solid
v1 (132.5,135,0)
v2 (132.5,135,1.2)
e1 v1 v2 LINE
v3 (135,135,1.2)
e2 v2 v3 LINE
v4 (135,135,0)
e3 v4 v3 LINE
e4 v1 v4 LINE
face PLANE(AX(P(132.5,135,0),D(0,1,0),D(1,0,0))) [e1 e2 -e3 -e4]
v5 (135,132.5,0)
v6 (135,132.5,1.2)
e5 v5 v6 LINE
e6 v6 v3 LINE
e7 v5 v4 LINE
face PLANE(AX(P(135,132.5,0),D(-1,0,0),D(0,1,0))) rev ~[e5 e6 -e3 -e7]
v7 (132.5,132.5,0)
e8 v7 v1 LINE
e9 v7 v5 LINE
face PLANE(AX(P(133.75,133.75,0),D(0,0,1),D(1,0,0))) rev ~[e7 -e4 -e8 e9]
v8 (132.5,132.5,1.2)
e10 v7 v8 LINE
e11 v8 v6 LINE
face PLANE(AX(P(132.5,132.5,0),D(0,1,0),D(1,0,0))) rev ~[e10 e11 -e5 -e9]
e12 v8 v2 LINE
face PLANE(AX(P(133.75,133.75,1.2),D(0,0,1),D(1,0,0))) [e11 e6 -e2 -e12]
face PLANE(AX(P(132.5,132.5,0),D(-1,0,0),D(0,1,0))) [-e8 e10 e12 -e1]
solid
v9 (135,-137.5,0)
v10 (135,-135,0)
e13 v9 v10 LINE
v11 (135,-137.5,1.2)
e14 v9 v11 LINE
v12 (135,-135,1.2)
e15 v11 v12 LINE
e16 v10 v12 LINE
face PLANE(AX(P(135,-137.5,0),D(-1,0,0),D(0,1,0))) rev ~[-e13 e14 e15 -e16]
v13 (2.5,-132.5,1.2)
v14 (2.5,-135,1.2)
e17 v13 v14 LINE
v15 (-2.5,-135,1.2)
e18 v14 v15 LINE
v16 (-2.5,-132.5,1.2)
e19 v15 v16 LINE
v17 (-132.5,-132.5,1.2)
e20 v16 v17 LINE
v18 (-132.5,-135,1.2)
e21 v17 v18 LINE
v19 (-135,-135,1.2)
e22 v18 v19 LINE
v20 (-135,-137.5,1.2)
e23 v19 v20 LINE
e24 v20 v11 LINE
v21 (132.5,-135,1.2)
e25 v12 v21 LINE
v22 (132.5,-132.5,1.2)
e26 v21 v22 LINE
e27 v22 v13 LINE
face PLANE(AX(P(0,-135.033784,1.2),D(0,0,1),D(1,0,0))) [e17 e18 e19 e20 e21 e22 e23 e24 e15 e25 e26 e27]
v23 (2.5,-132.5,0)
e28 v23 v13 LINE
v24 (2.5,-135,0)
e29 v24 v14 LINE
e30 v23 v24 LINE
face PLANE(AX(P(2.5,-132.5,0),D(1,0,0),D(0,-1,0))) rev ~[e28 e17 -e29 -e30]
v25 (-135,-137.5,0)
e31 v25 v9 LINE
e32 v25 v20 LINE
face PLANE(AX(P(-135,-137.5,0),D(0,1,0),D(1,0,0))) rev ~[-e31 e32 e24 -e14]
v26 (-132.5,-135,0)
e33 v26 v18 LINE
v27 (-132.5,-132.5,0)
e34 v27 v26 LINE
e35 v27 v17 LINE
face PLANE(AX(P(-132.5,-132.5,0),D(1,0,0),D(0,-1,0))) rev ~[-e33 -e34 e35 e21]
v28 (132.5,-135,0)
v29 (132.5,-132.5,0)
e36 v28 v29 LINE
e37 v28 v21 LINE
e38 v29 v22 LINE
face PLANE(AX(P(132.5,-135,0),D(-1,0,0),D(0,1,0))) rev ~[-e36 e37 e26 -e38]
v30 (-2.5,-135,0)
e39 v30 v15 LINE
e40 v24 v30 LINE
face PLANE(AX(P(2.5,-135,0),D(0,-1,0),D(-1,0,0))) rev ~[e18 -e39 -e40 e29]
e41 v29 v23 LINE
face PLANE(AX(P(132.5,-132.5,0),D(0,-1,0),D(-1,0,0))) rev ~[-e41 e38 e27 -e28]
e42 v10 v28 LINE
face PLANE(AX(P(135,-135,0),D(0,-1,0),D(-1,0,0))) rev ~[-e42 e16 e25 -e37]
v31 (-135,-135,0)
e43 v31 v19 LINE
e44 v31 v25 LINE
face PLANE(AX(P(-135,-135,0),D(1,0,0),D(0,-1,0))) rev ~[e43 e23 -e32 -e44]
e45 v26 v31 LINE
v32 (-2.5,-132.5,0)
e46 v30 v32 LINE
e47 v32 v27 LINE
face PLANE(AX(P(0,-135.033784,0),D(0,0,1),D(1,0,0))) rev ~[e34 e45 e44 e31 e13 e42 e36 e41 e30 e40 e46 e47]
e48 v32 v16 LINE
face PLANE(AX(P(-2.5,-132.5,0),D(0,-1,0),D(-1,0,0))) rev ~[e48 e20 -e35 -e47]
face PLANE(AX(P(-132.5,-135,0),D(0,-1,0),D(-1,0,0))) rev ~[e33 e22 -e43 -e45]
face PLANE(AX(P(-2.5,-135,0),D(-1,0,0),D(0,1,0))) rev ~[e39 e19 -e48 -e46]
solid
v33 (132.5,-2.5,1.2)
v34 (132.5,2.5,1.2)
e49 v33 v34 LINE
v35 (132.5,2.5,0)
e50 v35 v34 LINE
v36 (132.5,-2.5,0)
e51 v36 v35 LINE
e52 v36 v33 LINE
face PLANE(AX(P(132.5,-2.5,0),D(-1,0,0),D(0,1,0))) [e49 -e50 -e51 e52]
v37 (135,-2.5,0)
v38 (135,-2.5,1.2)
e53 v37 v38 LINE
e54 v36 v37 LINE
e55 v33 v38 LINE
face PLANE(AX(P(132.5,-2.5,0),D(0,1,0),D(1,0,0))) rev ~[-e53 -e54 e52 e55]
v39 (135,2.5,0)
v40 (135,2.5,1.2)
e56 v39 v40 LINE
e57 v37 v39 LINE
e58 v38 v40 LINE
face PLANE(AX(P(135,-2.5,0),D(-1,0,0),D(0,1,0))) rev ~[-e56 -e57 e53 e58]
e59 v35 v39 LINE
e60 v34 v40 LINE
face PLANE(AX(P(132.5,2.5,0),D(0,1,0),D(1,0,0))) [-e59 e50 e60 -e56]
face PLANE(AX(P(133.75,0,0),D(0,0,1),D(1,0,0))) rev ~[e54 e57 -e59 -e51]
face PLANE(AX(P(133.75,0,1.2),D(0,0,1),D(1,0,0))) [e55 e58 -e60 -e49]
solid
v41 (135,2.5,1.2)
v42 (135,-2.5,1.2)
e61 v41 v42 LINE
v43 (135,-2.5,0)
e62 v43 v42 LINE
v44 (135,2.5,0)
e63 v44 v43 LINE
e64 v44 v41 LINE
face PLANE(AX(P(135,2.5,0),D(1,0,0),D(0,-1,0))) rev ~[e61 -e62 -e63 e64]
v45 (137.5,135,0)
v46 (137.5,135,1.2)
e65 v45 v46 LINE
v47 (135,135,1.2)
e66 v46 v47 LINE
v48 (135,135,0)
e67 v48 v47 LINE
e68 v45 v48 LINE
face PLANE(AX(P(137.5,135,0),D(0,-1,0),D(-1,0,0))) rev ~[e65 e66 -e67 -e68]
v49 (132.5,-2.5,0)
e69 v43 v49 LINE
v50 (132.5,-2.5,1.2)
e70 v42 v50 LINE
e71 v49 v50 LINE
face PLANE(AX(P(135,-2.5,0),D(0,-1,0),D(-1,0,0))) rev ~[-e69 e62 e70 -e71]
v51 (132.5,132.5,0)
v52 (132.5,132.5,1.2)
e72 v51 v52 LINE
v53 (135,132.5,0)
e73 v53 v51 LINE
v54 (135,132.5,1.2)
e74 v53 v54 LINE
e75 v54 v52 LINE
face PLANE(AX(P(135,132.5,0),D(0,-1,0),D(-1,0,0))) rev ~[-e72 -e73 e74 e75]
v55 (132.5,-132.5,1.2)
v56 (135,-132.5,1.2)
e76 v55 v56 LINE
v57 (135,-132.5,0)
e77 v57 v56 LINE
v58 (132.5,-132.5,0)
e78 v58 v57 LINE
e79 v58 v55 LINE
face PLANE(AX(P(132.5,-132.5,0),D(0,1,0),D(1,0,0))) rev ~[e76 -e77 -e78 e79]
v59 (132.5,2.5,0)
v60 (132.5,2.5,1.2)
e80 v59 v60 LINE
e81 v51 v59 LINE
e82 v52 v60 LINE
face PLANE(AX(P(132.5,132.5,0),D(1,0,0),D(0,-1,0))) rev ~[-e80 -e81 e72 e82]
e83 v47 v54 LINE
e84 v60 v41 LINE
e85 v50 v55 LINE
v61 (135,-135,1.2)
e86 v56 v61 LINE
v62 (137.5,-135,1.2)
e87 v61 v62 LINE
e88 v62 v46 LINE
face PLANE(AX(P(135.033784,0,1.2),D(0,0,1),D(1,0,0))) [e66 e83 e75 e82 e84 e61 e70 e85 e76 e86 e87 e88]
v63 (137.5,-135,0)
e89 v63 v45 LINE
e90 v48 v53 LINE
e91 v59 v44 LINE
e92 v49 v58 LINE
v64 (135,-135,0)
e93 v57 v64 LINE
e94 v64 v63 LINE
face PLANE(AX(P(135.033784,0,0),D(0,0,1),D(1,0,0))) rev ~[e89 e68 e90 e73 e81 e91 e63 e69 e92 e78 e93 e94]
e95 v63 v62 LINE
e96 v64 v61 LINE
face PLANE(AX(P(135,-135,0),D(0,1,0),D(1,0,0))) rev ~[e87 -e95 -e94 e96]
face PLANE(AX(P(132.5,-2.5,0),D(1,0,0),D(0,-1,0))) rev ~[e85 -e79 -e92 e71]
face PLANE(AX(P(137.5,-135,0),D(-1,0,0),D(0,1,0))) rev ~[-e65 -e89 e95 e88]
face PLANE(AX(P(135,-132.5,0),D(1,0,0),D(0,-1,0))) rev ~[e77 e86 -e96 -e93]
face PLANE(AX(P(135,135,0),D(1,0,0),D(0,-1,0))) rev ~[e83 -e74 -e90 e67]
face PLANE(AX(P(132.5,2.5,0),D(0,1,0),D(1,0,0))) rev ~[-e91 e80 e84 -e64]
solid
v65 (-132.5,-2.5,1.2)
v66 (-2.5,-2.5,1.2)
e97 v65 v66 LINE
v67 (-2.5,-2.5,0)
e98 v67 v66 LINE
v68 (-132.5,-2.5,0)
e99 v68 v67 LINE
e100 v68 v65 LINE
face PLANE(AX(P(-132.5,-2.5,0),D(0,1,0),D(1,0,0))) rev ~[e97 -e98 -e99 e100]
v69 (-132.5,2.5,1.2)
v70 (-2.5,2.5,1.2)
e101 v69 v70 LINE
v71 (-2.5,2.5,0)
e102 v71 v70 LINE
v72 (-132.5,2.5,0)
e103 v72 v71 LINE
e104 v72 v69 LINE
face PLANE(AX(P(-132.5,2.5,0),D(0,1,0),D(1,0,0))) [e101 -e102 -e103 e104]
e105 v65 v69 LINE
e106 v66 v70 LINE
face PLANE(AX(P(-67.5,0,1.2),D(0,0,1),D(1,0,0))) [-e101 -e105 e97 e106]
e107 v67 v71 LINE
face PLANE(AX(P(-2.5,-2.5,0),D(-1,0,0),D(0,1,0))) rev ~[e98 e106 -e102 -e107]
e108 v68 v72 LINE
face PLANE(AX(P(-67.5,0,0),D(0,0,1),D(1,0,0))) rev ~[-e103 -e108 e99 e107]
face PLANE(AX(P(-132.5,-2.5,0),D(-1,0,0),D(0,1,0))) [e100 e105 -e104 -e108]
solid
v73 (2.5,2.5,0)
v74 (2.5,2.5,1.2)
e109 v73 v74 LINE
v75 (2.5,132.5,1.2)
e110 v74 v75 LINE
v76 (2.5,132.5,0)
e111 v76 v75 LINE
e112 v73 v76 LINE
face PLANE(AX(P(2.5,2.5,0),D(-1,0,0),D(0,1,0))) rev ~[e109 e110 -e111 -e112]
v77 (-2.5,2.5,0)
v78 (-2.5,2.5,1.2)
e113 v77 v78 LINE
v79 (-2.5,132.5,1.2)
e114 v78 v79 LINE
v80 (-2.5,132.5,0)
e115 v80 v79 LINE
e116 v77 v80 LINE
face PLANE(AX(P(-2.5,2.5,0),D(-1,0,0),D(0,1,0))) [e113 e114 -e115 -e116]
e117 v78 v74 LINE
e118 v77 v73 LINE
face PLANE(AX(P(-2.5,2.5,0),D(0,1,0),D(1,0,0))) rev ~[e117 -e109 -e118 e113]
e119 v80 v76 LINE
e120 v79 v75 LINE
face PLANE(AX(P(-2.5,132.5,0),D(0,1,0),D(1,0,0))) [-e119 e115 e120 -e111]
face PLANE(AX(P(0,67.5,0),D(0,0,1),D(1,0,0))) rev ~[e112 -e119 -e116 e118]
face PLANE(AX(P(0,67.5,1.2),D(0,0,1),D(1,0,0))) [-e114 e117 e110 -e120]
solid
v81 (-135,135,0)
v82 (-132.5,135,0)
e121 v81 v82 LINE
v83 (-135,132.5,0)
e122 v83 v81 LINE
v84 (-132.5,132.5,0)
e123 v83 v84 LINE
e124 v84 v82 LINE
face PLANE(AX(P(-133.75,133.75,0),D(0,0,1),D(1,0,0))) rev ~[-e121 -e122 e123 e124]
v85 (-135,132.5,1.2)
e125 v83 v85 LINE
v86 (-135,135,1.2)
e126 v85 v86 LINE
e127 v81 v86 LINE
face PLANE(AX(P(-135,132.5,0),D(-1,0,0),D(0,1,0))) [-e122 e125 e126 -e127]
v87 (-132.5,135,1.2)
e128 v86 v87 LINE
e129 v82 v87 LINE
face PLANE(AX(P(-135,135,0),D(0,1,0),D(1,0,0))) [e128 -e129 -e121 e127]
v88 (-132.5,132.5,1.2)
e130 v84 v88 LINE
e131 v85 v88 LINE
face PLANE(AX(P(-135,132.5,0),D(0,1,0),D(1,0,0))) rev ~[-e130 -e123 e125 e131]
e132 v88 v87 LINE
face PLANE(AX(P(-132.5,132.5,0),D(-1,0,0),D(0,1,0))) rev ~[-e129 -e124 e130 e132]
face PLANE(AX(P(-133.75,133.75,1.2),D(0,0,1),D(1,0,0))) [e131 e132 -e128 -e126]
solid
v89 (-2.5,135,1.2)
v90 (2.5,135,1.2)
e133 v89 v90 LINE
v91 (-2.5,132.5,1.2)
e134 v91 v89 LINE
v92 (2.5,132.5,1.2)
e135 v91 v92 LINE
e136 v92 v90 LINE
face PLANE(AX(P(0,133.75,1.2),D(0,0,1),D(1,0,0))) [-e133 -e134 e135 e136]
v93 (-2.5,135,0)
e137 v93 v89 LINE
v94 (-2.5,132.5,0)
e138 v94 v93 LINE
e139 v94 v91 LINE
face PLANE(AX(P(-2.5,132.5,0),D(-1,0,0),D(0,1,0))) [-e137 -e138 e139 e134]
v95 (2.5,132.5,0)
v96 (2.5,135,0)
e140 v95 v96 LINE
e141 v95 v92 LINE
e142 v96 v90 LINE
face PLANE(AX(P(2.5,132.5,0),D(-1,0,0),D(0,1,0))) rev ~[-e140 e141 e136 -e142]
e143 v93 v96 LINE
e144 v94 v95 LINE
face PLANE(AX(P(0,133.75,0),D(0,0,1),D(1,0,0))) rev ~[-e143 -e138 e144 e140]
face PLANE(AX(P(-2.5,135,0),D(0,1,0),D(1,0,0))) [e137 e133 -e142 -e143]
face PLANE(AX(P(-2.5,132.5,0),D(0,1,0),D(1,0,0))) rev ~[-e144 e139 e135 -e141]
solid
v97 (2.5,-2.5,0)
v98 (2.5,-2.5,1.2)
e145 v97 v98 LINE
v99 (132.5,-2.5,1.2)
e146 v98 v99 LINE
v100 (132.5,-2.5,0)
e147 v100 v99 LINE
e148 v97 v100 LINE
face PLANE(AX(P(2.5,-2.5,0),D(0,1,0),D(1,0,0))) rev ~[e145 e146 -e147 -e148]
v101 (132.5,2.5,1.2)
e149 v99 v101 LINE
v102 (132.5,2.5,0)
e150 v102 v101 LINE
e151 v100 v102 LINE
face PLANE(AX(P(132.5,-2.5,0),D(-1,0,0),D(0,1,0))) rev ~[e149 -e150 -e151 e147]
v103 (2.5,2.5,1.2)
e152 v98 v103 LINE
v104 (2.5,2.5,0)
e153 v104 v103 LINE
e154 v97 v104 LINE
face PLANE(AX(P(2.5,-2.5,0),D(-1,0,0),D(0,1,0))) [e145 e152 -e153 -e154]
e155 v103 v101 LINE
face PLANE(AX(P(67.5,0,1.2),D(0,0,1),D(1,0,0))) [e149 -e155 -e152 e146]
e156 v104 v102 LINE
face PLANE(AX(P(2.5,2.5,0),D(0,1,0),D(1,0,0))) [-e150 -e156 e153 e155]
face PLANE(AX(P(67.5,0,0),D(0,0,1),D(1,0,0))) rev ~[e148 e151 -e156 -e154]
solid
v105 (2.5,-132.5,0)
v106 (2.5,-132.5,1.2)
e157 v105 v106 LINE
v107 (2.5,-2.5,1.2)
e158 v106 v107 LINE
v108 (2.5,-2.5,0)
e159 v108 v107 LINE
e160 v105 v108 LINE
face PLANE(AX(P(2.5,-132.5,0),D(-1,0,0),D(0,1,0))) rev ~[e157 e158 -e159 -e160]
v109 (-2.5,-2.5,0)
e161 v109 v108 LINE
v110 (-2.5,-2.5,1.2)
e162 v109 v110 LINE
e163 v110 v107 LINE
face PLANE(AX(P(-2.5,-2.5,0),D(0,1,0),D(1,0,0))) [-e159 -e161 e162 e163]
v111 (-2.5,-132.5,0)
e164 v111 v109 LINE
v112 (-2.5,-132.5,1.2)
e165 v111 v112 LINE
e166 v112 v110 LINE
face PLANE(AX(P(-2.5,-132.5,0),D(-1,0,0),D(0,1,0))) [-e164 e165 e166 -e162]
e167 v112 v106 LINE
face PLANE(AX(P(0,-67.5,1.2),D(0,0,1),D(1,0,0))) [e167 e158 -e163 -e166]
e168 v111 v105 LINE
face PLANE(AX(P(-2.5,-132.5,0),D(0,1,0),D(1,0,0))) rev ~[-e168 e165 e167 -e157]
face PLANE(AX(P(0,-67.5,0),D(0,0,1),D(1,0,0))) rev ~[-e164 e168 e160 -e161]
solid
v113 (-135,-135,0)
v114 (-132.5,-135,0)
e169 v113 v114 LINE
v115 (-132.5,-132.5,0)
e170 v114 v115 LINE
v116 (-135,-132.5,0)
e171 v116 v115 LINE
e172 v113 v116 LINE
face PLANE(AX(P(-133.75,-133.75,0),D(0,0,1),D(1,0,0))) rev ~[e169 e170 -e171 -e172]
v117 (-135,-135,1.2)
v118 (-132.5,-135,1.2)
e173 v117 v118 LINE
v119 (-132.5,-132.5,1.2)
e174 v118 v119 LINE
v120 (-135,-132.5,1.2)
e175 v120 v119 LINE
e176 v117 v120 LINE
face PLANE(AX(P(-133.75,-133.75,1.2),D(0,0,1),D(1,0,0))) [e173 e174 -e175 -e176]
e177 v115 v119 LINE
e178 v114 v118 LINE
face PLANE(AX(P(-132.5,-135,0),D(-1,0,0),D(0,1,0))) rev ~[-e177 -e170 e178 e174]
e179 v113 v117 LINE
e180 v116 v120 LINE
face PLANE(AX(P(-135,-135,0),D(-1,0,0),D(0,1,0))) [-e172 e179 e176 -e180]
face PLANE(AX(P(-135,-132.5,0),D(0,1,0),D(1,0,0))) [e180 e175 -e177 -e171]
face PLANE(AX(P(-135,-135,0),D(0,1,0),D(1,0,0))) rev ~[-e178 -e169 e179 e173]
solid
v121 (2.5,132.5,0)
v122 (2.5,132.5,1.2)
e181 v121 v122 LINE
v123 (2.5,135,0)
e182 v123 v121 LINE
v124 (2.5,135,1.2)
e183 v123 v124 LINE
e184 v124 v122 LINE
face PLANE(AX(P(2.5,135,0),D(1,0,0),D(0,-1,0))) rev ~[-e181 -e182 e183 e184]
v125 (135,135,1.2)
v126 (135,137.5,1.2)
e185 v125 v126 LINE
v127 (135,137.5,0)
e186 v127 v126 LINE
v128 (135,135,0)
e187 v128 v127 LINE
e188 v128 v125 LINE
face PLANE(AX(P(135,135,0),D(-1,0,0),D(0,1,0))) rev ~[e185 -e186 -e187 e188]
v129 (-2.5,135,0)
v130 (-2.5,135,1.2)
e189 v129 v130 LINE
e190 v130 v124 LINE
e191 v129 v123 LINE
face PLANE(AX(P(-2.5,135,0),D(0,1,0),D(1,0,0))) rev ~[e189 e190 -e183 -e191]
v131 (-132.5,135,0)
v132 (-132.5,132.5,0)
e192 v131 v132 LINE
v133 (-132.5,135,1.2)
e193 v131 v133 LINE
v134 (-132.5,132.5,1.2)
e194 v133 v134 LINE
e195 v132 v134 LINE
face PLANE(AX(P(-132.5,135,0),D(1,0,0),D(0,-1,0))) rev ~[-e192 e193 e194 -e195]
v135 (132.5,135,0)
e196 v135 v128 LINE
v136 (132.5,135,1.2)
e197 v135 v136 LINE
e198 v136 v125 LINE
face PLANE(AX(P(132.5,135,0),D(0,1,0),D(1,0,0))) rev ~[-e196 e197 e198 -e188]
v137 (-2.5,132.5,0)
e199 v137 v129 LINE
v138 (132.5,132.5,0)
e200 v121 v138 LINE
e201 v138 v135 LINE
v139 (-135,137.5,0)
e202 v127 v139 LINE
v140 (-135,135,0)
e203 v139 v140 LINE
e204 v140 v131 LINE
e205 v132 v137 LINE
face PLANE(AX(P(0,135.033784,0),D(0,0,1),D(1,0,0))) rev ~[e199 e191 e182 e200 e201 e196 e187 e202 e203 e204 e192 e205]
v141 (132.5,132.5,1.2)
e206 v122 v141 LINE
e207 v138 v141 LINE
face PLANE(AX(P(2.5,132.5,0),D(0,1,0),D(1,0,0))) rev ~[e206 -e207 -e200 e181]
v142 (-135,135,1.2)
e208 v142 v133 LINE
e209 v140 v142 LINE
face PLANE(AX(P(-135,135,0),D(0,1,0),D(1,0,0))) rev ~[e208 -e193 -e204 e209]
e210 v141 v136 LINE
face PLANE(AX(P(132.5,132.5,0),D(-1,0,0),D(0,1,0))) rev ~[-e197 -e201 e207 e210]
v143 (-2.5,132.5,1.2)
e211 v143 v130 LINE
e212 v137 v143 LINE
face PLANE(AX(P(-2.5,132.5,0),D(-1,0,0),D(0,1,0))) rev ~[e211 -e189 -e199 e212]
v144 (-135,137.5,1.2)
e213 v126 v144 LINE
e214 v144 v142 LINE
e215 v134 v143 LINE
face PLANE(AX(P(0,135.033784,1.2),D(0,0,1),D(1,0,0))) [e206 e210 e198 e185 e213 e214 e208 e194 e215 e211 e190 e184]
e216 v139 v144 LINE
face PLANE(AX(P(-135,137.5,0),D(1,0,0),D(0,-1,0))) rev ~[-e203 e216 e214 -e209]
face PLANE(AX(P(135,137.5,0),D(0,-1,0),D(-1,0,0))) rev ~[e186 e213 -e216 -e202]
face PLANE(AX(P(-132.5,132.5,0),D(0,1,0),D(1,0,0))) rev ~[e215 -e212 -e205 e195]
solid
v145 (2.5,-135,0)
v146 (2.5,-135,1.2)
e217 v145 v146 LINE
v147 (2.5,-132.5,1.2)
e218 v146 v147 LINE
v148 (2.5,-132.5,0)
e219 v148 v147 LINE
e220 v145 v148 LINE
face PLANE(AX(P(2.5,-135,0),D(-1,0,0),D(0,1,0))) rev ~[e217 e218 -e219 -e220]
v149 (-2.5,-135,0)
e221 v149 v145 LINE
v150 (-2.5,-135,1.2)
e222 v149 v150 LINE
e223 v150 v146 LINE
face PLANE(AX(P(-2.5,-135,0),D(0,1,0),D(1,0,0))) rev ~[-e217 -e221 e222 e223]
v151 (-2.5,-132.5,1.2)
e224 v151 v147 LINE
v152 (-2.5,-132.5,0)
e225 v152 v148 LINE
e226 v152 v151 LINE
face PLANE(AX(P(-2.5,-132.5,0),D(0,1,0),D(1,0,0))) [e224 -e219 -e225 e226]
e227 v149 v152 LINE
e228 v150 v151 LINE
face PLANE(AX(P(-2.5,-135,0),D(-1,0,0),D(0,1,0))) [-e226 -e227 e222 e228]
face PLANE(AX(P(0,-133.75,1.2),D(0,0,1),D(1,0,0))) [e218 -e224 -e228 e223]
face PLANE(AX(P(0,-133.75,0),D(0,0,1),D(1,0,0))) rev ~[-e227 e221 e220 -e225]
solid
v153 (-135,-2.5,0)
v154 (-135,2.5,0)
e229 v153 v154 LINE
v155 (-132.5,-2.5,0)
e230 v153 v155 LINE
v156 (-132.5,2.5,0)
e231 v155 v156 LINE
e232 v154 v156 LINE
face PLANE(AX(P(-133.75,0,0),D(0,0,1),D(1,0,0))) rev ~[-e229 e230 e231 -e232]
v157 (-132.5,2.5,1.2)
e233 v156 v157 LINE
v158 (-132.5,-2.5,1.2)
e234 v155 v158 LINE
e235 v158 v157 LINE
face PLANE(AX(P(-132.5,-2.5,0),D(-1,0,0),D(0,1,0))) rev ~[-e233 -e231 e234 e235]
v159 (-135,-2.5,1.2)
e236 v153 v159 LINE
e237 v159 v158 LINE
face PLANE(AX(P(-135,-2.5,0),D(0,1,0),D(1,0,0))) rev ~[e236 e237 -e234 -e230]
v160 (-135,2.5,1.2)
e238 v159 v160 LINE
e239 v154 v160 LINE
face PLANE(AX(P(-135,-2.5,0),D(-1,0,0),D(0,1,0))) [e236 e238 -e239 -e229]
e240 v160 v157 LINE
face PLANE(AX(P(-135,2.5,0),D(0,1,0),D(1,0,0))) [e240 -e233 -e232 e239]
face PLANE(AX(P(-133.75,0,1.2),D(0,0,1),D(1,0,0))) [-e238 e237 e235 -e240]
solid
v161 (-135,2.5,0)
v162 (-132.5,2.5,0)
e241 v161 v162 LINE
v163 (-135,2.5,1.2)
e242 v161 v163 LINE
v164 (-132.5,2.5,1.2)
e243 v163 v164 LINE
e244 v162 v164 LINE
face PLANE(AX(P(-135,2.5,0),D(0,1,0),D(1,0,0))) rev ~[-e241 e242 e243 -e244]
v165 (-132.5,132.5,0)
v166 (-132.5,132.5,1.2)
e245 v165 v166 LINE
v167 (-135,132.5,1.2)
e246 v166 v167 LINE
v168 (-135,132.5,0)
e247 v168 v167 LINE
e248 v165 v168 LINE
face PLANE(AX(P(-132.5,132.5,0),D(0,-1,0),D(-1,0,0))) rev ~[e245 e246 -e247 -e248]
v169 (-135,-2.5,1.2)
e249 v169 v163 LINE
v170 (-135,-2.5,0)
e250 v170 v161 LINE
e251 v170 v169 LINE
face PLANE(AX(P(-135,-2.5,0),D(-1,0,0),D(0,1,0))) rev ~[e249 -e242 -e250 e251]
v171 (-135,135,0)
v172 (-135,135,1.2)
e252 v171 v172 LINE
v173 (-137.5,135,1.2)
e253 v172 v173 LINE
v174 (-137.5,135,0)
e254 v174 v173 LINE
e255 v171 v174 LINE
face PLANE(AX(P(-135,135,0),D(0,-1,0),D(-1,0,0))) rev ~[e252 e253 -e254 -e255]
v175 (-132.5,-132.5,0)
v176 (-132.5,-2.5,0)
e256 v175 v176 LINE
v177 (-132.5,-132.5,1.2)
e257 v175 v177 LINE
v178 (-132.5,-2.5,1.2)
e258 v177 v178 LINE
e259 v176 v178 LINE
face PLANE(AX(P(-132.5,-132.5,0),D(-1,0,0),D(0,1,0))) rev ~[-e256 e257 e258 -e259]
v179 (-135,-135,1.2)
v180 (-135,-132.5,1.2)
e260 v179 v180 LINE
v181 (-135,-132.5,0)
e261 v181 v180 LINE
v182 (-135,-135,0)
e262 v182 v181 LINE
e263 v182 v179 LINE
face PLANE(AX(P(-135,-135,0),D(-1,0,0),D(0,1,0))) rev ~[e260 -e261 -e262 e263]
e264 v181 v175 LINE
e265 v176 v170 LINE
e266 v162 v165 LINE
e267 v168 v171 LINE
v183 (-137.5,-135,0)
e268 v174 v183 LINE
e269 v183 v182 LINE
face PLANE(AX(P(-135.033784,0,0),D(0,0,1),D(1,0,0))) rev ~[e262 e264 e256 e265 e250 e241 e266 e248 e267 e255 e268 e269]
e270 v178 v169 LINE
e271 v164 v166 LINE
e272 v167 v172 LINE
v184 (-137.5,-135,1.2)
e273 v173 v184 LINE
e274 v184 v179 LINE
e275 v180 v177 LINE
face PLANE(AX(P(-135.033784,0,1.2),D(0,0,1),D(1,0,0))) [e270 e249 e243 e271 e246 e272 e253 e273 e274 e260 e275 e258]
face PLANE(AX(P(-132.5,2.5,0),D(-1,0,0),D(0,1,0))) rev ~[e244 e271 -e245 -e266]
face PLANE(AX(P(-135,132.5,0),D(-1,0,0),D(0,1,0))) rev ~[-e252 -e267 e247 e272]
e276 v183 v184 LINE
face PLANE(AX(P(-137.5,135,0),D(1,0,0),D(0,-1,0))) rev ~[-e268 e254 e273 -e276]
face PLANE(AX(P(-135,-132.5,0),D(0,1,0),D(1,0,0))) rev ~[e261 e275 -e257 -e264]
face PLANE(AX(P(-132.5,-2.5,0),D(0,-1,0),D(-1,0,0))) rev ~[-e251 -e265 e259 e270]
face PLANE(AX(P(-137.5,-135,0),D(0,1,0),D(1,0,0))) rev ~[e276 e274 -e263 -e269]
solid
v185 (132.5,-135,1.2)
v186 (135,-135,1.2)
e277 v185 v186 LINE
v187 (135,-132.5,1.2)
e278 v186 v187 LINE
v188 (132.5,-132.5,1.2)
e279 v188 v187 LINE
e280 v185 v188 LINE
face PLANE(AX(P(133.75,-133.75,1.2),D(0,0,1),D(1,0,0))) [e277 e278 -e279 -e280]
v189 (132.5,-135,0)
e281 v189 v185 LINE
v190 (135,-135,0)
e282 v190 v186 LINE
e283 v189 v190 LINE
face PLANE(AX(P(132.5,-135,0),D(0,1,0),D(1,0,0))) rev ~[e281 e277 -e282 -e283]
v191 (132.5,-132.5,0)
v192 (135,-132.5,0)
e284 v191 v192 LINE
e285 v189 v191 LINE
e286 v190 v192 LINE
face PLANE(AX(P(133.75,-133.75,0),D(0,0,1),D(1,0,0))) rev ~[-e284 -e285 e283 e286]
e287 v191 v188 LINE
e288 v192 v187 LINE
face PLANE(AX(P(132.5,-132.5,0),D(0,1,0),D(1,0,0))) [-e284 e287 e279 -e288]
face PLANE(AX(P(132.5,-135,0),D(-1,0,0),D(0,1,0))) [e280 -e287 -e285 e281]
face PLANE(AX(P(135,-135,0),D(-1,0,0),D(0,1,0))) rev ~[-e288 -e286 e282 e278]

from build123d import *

# Parameters (mm, degrees)
F0_W     = 2.5
F0_H     = 2.5
F1_DEPTH = 1.2
F0_W_2   = 5
F0_H_2   = 5
F2_DEPTH = 1.2
F0_W_3   = 130
F0_H_3   = 130


with BuildPart() as f1:
    # F0 (on Top) → F1 (new body)
    with BuildSketch(Plane.XY):
        with Locations((133.75, 133.75)):
            Rectangle(F0_W, F0_H)
    extrude(amount=F1_DEPTH)


with BuildPart() as f1b:
    # F0 (on Top) → F1, piece 2 (new body)
    with BuildSketch(Plane.XY):
        with Locations((-133.75, 133.75)):
            Rectangle(F0_W, F0_H)
    extrude(amount=F1_DEPTH)


with BuildPart() as f1c:
    # F0 (on Top) → F1, piece 3 (new body)
    with BuildSketch(Plane.XY):
        with Locations((-133.75, -133.75)):
            Rectangle(F0_W, F0_H)
    extrude(amount=F1_DEPTH)


with BuildPart() as f1d:
    # F0 (on Top) → F1, piece 4 (new body)
    with BuildSketch(Plane.XY):
        with Locations((133.75, -133.75)):
            Rectangle(F0_W, F0_H)
    extrude(amount=F1_DEPTH)


with BuildPart() as f1e:
    # F0 (on Top) → F1, piece 5 (new body)
    with BuildSketch(Plane.XY):
        with Locations((0, -133.75)):
            Rectangle(F0_W_2, F0_H)
    extrude(amount=F1_DEPTH)


with BuildPart() as f1f:
    # F0 (on Top) → F1, piece 6 (new body)
    with BuildSketch(Plane.XY):
        with Locations((133.75, 0)):
            Rectangle(F0_W, F0_H_2)
    extrude(amount=F1_DEPTH)


with BuildPart() as f1g:
    # F0 (on Top) → F1, piece 7 (new body)
    with BuildSketch(Plane.XY):
        with Locations((-133.75, 0)):
            Rectangle(F0_W, F0_H_2)
    extrude(amount=F1_DEPTH)


with BuildPart() as f1h:
    # F0 (on Top) → F1, piece 8 (new body)
    with BuildSketch(Plane.XY):
        with Locations((0, 133.75)):
            Rectangle(F0_W_2, F0_H)
    extrude(amount=F1_DEPTH)


with BuildPart() as f2:
    # F0 (on Top) → F2 (new body)
    with BuildSketch(Plane.XY):
        Polygon((-132.5, -132.5), (-132.5, -2.5), (-135, -2.5), (-135, 2.5), (-132.5, 2.5), (-132.5, 132.5), (-135, 132.5), (-135, 135), (-137.5, 135), (-137.5, -135), (-135, -135), (-135, -132.5), align=None)
    extrude(amount=F2_DEPTH)


with BuildPart() as f2b:
    # F0 (on Top) → F2, piece 2 (new body)
    with BuildSketch(Plane.XY):
        with Locations((-67.5, 0)):
            Rectangle(F0_W_3, F0_H_2)
    extrude(amount=F2_DEPTH)


with BuildPart() as f2c:
    # F0 (on Top) → F2, piece 3 (new body)
    with BuildSketch(Plane.XY):
        with Locations((0, 67.5)):
            Rectangle(F0_W_2, F0_H_3)
    extrude(amount=F2_DEPTH)


with BuildPart() as f2d:
    # F0 (on Top) → F2, piece 4 (new body)
    with BuildSketch(Plane.XY):
        Polygon((2.5, 132.5), (132.5, 132.5), (132.5, 135), (135, 135), (135, 137.5), (-135, 137.5), (-135, 135), (-132.5, 135), (-132.5, 132.5), (-2.5, 132.5), (-2.5, 135), (2.5, 135), align=None)
    extrude(amount=F2_DEPTH)


with BuildPart() as f2e:
    # F0 (on Top) → F2, piece 5 (new body)
    with BuildSketch(Plane.XY):
        Polygon((135, 2.5), (135, -2.5), (132.5, -2.5), (132.5, -132.5), (135, -132.5), (135, -135), (137.5, -135), (137.5, 135), (135, 135), (135, 132.5), (132.5, 132.5), (132.5, 2.5), align=None)
    extrude(amount=F2_DEPTH)


with BuildPart() as f2f:
    # F0 (on Top) → F2, piece 6 (new body)
    with BuildSketch(Plane.XY):
        Polygon((132.5, -135), (132.5, -132.5), (2.5, -132.5), (2.5, -135), (-2.5, -135), (-2.5, -132.5), (-132.5, -132.5), (-132.5, -135), (-135, -135), (-135, -137.5), (135, -137.5), (135, -135), align=None)
    extrude(amount=F2_DEPTH)


with BuildPart() as f2g:
    # F0 (on Top) → F2, piece 7 (new body)
    with BuildSketch(Plane.XY):
        with Locations((67.5, 0)):
            Rectangle(F0_W_3, F0_H_2)
    extrude(amount=F2_DEPTH)


with BuildPart() as f2h:
    # F0 (on Top) → F2, piece 8 (new body)
    with BuildSketch(Plane.XY):
        with Locations((0, -67.5)):
            Rectangle(F0_W_2, F0_H_3)
    extrude(amount=F2_DEPTH)


solid = Compound([f1.part, f1b.part, f1c.part, f1d.part, f1e.part, f1f.part, f1g.part, f1h.part, f2.part, f2b.part, f2c.part, f2d.part, f2e.part, f2f.part, f2g.part, f2h.part])
